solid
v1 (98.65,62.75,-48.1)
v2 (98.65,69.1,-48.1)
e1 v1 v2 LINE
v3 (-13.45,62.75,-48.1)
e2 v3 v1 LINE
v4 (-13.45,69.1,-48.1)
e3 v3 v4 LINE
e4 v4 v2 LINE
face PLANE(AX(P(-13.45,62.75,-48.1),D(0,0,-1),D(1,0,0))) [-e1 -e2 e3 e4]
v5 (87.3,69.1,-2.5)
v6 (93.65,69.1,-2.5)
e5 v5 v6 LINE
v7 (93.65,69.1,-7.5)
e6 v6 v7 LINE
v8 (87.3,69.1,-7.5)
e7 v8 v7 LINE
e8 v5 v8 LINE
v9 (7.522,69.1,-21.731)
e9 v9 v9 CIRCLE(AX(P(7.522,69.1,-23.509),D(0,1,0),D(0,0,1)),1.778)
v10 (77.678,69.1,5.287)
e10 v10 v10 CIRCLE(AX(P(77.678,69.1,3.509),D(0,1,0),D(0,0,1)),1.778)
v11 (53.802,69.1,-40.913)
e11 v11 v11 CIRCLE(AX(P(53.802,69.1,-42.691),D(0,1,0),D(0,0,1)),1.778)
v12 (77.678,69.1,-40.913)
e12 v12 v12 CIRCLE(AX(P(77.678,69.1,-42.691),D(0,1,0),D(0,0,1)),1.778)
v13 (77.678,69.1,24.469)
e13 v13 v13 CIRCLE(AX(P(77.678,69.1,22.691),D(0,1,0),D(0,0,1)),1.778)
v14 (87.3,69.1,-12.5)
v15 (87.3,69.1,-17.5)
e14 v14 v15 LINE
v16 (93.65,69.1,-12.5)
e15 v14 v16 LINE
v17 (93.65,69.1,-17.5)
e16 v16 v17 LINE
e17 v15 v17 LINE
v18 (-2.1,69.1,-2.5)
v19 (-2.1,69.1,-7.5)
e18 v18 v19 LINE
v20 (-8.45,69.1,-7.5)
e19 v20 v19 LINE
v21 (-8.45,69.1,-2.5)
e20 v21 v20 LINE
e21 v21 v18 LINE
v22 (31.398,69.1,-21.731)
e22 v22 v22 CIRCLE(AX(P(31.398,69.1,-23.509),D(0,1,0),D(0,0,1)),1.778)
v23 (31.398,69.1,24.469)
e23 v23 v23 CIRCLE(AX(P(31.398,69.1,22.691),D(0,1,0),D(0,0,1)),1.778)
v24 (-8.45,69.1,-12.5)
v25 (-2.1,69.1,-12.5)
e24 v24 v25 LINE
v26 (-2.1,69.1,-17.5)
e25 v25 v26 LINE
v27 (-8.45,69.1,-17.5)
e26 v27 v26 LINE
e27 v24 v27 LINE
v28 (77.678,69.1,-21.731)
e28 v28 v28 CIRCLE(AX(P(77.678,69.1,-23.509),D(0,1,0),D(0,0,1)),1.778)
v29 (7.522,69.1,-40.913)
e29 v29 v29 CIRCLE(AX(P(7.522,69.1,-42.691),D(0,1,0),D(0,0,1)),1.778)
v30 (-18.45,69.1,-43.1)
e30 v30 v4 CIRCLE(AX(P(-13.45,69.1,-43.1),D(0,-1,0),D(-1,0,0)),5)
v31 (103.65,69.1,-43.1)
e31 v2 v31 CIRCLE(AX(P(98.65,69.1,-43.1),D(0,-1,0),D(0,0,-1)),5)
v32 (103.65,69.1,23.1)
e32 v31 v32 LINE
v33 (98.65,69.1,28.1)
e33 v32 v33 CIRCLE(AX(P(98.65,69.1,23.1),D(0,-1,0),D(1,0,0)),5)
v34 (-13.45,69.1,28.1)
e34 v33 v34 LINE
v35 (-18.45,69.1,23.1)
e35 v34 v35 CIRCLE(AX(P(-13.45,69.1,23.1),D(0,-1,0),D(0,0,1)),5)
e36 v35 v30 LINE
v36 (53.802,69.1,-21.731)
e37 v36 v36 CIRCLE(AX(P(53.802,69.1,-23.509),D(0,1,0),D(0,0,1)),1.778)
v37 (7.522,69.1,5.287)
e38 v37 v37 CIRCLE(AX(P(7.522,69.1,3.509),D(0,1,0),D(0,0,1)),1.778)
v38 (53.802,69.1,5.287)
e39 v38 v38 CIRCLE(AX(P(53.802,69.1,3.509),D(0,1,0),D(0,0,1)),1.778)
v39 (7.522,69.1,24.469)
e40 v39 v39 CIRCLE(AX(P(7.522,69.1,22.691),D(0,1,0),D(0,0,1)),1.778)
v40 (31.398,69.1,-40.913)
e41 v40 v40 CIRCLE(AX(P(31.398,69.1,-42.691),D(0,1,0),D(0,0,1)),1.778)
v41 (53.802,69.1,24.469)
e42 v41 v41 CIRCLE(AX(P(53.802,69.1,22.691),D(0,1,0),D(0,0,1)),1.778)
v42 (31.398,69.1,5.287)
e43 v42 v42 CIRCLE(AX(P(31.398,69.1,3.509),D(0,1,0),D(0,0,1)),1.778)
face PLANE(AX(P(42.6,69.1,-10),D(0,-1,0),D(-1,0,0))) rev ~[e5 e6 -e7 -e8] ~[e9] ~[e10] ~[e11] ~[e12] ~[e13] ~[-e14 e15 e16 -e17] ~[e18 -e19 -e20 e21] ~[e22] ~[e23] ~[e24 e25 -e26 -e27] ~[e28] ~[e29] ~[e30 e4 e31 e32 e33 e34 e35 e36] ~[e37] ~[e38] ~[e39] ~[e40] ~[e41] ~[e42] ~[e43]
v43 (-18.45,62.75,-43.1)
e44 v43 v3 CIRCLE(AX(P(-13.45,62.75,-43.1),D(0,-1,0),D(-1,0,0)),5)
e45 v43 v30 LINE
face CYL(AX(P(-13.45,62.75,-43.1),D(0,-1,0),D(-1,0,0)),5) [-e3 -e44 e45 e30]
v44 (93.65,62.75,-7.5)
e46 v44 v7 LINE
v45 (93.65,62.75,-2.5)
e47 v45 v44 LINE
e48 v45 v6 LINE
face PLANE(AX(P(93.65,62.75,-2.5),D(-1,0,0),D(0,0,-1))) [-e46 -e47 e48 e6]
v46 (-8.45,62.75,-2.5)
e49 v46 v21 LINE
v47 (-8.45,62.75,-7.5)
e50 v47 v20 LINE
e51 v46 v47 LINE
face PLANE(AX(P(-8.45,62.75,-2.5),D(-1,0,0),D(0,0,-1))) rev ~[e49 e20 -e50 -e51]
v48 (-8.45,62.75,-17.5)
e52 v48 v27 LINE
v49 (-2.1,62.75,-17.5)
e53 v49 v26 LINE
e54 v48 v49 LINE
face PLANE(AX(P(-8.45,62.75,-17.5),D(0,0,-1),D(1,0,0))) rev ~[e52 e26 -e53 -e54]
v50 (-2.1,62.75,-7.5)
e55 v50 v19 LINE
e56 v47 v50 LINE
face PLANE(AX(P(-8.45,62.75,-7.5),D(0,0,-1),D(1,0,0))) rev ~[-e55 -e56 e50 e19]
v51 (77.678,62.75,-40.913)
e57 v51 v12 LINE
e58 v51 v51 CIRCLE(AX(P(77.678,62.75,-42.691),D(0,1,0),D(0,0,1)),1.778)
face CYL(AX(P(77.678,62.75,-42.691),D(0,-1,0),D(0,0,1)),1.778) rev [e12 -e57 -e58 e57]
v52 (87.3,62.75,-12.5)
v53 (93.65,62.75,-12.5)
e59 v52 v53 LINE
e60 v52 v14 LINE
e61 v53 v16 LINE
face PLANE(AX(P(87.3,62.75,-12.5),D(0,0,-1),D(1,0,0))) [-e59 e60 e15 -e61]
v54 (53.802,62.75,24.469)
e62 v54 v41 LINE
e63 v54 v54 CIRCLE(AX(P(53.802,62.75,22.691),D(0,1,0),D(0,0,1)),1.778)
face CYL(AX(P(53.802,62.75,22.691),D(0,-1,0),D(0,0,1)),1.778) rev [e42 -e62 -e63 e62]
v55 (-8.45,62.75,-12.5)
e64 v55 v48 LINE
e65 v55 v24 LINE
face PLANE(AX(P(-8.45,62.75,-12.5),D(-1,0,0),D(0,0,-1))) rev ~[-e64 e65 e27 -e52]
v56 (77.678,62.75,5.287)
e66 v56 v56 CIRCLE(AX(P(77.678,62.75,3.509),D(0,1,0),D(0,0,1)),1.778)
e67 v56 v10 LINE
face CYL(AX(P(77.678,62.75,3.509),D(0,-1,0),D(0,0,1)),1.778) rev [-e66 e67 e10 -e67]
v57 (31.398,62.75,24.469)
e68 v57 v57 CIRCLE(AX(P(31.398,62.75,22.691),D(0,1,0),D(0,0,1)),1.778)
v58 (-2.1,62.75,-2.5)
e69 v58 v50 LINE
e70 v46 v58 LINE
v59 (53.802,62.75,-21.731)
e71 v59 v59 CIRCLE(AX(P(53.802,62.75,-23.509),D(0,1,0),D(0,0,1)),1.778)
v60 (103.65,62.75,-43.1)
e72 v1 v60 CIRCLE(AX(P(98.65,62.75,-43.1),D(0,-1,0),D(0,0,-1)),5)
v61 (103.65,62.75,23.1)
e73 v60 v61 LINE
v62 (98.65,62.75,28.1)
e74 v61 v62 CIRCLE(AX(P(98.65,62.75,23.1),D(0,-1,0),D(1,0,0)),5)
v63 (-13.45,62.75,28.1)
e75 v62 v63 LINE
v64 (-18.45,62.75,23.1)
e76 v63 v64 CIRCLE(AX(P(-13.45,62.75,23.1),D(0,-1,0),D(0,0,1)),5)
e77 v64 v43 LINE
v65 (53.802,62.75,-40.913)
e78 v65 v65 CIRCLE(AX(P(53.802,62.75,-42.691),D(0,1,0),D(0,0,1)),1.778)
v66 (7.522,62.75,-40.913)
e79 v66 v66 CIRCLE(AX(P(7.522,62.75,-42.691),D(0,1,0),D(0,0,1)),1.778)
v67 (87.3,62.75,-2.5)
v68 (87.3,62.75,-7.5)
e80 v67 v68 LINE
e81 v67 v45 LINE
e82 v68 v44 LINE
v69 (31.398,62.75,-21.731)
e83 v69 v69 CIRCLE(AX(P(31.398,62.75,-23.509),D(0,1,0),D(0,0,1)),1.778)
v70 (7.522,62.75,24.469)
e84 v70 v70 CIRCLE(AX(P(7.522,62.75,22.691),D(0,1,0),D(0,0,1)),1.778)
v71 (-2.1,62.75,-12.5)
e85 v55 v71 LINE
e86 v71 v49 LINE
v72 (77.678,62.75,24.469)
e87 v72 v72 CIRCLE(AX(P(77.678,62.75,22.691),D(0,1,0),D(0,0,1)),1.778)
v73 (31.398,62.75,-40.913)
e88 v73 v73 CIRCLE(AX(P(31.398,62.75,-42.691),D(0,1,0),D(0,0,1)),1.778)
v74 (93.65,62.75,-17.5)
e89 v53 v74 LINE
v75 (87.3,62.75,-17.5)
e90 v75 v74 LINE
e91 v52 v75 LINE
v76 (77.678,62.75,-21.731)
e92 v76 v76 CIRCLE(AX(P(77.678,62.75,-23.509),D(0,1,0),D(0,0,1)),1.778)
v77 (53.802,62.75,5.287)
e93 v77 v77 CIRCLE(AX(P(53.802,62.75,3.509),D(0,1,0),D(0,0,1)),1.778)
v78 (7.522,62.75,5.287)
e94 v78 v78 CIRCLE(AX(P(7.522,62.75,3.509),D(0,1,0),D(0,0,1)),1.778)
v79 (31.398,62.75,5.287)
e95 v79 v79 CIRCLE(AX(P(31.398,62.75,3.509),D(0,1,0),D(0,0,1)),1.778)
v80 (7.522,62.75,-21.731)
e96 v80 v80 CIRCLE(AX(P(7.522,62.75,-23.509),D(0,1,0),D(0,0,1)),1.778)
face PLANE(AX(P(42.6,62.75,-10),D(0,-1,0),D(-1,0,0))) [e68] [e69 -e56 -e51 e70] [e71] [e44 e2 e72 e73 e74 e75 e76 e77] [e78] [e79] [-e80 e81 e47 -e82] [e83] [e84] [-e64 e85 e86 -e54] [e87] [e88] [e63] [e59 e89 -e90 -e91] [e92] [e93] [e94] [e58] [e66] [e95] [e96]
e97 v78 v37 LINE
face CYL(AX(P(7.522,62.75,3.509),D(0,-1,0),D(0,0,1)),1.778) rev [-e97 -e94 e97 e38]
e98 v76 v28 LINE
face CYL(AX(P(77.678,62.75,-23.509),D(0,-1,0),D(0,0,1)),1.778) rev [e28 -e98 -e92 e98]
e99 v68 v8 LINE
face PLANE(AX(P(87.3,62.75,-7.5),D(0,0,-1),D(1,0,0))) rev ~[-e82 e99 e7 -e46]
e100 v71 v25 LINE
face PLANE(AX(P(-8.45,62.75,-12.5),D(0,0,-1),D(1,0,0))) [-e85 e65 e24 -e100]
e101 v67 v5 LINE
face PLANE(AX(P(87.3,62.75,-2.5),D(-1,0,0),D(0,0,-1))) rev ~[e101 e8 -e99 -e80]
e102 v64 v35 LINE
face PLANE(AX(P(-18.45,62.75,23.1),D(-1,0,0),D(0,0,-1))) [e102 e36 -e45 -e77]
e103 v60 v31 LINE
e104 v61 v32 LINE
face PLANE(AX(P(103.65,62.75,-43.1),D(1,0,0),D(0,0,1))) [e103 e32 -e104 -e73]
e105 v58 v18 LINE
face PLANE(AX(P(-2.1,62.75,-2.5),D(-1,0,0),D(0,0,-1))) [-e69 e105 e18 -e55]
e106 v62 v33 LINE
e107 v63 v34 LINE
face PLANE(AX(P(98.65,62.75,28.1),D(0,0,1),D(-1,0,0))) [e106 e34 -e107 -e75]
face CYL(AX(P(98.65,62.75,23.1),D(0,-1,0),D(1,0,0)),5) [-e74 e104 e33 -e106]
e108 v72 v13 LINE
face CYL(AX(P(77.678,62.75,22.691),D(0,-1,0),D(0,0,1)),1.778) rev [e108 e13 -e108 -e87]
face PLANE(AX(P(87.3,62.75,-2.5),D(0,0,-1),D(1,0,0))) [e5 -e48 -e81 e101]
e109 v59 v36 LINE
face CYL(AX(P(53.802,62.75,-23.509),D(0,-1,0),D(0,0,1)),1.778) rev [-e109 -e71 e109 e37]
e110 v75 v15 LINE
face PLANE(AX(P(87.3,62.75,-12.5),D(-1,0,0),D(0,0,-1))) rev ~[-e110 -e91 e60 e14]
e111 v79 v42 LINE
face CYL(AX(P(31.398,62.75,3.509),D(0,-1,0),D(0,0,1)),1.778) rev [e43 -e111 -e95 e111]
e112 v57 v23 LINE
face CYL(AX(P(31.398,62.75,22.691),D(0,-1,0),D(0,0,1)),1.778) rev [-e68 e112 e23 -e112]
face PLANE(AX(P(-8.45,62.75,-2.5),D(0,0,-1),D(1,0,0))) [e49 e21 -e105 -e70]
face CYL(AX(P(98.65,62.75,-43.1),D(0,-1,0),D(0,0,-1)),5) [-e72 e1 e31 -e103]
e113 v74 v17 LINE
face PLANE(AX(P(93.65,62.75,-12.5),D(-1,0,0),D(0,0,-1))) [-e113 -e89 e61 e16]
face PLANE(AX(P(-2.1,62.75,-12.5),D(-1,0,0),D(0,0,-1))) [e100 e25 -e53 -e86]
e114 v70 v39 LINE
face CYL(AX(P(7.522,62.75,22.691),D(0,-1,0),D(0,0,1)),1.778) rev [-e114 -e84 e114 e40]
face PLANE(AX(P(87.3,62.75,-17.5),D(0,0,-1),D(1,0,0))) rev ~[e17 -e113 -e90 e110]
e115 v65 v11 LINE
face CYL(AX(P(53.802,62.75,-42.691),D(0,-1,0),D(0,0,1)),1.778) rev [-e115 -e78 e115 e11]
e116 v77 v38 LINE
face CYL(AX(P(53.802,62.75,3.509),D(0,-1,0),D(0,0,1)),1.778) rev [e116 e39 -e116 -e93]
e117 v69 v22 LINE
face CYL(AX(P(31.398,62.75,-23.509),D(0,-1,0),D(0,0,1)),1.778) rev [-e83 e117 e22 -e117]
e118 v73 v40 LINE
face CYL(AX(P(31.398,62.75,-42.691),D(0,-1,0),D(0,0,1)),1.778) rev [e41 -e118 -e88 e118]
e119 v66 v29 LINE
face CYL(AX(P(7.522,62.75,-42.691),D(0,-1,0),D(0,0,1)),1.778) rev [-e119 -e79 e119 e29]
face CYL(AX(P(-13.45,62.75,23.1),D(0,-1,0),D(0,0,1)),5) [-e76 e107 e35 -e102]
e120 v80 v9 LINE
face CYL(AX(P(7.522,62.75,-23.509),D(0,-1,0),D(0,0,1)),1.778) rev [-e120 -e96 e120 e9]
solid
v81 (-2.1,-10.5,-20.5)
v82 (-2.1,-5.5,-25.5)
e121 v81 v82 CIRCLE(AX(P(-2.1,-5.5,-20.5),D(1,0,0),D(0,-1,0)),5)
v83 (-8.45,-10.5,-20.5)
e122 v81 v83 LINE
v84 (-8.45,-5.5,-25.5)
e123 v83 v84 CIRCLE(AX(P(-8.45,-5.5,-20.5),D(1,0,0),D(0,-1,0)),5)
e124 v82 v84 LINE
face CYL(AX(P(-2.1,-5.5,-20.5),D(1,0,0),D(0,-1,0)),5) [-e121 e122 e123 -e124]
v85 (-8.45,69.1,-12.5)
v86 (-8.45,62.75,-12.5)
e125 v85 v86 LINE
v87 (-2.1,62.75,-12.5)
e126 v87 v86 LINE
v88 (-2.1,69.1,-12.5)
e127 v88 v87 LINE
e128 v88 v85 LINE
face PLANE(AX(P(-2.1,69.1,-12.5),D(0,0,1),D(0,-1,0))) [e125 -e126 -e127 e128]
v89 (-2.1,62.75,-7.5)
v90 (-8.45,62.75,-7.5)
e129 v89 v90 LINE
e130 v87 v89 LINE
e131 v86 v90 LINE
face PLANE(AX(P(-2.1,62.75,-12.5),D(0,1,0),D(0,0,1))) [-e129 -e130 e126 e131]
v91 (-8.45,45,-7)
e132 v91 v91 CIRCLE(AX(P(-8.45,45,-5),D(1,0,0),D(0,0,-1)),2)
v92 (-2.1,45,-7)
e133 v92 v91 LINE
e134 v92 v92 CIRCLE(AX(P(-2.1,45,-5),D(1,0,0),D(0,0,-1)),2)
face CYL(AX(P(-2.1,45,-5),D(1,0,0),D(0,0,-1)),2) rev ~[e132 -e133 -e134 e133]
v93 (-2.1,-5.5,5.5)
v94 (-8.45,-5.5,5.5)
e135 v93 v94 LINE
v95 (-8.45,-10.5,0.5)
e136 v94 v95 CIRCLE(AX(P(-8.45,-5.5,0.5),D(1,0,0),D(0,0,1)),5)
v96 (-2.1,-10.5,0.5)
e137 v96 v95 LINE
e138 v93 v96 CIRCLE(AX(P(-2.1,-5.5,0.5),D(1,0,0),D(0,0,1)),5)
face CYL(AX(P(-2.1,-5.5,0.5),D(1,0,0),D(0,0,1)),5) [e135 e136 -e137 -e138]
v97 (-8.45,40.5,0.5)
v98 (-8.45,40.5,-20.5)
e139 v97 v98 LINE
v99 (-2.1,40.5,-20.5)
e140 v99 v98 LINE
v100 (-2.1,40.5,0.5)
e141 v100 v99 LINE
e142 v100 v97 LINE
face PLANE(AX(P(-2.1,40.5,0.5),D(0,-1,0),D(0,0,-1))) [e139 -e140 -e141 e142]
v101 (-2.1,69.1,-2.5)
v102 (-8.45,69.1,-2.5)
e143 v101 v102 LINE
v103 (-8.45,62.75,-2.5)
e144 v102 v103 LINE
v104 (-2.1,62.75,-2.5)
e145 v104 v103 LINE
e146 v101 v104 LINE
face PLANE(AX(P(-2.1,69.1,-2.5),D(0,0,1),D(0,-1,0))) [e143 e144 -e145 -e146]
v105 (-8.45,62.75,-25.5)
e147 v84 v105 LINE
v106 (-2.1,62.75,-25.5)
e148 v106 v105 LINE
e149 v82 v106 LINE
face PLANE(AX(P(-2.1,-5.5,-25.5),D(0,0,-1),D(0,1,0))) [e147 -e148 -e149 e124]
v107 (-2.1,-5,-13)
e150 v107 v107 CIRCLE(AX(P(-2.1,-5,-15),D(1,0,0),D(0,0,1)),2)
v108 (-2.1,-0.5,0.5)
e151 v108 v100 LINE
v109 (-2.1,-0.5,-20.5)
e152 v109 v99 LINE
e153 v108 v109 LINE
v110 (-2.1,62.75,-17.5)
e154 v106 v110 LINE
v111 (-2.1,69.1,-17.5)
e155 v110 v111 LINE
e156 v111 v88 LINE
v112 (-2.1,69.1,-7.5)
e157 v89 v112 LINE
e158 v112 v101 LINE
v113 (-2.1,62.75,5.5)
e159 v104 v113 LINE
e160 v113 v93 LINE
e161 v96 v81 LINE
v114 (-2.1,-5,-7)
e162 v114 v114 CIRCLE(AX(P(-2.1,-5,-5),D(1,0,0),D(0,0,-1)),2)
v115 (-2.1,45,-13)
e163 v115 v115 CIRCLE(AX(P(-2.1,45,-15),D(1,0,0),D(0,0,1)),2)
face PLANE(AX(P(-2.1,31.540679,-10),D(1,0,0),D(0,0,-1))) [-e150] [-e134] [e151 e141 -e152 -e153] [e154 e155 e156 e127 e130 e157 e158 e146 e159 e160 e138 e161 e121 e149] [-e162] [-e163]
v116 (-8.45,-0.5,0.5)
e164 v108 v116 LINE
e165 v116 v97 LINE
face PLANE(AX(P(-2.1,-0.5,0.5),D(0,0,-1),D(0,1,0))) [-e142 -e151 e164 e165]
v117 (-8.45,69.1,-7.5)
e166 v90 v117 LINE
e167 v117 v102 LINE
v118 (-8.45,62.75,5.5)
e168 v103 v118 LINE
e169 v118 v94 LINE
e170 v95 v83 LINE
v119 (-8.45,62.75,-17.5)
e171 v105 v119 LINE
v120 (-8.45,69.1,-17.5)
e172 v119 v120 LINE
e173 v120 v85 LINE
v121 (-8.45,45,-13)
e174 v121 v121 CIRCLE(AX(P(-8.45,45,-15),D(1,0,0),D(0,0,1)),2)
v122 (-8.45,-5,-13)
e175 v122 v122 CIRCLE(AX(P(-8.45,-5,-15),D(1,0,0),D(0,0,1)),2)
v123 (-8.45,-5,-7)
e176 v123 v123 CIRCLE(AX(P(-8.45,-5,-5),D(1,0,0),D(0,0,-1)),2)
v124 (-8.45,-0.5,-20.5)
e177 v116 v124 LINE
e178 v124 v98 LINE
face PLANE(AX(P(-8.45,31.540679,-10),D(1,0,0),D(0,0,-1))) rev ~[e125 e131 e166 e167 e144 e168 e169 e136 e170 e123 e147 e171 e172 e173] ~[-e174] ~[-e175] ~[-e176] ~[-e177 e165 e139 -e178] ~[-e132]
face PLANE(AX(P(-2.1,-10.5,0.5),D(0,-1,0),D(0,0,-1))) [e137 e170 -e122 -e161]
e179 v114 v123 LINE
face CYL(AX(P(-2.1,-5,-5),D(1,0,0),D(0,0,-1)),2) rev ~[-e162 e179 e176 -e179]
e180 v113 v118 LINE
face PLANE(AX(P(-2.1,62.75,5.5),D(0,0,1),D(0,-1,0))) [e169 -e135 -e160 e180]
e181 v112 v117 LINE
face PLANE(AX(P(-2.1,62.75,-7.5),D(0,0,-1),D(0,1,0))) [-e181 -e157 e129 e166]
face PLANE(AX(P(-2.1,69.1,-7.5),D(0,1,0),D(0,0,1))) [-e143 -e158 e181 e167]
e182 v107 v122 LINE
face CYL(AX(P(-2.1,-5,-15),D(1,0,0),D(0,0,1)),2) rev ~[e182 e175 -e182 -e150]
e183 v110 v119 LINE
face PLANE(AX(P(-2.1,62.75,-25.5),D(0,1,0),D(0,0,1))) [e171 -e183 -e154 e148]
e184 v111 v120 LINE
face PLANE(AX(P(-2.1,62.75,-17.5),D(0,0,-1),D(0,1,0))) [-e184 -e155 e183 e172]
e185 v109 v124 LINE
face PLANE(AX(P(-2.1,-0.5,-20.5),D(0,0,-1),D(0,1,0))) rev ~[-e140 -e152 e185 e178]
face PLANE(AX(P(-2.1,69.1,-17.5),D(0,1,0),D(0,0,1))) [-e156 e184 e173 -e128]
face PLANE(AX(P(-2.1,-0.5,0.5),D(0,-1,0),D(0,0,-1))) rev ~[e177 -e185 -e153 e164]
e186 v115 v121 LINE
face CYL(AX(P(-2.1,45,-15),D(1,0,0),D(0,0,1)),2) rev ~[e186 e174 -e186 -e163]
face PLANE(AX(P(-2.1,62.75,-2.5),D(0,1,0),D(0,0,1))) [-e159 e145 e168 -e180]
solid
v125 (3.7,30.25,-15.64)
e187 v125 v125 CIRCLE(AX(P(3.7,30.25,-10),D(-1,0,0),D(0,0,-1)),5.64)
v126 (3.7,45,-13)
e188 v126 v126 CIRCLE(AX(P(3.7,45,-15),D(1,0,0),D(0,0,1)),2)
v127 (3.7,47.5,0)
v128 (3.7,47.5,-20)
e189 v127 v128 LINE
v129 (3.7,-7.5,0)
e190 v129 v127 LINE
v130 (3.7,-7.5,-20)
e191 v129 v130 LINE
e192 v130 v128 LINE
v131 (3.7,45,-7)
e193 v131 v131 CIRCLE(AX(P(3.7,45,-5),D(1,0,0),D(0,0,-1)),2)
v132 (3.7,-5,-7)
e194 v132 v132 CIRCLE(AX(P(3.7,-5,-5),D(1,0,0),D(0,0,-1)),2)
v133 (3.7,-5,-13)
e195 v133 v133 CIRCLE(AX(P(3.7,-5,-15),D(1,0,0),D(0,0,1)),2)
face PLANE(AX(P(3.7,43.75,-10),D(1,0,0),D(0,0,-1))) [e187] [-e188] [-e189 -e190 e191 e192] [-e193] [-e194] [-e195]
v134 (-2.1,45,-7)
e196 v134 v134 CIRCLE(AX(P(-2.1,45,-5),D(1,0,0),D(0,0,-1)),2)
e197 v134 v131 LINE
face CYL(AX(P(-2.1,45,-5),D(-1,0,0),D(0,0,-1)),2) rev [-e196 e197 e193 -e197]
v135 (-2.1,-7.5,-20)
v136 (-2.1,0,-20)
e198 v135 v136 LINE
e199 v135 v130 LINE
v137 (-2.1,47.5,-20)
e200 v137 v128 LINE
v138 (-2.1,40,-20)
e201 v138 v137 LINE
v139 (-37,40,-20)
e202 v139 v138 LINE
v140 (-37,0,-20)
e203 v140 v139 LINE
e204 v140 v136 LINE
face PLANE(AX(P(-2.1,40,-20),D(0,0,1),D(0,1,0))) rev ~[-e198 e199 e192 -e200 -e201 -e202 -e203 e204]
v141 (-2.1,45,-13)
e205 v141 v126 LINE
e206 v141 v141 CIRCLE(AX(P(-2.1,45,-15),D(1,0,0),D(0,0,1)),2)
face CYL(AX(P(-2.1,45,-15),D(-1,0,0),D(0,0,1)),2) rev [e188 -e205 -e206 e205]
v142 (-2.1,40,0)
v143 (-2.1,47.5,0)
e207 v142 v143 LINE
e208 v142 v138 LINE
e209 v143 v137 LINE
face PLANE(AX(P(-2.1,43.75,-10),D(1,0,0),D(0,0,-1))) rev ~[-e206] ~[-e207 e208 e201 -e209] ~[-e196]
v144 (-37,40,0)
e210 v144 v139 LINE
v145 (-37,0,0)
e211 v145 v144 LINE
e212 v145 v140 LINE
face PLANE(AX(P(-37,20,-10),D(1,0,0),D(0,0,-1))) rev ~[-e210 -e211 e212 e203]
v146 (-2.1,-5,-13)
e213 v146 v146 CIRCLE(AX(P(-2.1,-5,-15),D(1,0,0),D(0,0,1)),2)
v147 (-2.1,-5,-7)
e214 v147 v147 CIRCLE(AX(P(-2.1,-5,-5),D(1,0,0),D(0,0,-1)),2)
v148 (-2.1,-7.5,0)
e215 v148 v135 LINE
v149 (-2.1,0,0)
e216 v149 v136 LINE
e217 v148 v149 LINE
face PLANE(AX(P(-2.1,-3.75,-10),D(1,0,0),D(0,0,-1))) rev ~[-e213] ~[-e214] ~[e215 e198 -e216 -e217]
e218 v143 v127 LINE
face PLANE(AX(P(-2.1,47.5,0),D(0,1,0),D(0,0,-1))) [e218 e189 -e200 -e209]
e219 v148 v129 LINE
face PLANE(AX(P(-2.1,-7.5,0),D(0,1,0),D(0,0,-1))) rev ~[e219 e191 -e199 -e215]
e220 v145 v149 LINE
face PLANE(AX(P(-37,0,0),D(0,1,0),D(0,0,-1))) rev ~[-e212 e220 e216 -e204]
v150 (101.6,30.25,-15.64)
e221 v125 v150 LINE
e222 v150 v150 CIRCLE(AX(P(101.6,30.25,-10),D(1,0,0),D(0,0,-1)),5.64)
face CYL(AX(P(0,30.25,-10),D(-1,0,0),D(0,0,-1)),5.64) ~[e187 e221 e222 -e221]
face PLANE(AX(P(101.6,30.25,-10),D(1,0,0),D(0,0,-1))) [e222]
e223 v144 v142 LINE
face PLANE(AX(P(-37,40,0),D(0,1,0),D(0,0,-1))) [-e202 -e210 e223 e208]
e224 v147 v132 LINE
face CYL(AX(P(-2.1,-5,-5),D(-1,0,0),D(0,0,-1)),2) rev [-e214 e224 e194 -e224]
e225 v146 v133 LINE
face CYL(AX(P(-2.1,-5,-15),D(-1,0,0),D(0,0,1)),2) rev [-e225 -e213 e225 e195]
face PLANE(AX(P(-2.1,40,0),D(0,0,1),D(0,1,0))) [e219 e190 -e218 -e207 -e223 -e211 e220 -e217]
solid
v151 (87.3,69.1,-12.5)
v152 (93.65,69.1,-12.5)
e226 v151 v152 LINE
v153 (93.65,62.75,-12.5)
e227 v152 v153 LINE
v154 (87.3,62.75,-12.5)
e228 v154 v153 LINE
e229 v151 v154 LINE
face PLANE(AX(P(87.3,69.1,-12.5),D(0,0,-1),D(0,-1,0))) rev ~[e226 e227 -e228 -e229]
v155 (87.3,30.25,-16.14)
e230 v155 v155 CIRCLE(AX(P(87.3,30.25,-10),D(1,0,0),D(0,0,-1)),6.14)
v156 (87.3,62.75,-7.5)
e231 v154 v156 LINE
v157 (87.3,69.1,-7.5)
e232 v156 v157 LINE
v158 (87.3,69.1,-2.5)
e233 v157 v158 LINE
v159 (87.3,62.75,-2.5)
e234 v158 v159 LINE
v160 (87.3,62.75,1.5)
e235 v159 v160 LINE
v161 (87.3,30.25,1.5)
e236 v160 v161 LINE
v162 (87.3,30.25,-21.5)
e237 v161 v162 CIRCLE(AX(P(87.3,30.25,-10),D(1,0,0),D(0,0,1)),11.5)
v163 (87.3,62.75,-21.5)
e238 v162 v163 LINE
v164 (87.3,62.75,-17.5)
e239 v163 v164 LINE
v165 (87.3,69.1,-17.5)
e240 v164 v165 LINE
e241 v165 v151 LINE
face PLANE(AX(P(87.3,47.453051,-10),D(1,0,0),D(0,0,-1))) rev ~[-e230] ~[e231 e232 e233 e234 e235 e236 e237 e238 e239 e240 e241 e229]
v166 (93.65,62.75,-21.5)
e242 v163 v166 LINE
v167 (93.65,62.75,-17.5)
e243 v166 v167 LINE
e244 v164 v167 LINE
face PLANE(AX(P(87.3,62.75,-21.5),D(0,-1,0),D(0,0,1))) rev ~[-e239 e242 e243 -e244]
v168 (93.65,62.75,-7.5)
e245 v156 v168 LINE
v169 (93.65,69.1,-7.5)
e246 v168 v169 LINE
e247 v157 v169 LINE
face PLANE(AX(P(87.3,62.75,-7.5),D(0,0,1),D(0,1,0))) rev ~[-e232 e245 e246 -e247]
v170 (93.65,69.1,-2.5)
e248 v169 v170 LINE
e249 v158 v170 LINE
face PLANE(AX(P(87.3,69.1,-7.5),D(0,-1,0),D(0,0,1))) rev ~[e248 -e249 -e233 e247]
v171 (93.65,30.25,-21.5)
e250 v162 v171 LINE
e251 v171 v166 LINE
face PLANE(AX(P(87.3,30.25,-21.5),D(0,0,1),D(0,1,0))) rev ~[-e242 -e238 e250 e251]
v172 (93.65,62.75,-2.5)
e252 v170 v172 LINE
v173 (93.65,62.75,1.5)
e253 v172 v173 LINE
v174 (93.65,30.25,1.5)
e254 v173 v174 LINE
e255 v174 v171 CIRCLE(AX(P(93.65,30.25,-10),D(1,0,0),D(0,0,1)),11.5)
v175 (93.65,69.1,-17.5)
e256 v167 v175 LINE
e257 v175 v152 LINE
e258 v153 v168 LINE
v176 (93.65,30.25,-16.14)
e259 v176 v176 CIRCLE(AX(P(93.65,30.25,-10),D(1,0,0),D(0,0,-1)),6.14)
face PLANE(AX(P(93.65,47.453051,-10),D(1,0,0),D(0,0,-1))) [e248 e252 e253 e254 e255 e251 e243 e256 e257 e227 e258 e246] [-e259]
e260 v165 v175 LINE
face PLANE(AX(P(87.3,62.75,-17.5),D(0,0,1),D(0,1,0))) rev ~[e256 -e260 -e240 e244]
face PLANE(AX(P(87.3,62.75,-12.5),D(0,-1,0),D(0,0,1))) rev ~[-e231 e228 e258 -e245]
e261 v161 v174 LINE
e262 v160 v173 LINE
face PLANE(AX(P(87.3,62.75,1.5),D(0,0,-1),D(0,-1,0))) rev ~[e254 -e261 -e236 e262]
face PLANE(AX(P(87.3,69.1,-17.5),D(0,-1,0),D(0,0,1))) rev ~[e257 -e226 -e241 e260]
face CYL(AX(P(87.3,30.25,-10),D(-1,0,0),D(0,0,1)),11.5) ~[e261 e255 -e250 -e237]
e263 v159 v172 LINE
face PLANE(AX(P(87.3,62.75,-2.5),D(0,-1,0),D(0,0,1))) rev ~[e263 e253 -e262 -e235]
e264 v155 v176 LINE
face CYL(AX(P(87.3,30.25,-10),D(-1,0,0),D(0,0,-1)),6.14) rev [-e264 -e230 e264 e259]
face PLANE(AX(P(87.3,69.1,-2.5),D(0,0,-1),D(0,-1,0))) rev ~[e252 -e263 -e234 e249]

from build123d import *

# Parameters (mm, degrees)
BOSS_EXTRUDE2_DEPTH      = 3.7
BOSS_EXTRUDE2_DEPTH_BACK = 37
SKETCH1_W                = 20
SKETCH1_H                = 40
SKETCH1_3_R              = 5.64
BOSS_EXTRUDE3_DEPTH      = 101.6
SKETCH2_R                = 6.14
BOSS_EXTRUDE4_DEPTH      = 6.35
SKETCH3_R                = 2
SKETCH3_W                = 21
SKETCH3_H                = 41
BOSS_EXTRUDE5_DEPTH      = 6.35
BOSS_EXTRUDE8_DEPTH      = 3.7
BOSS_EXTRUDE8_DEPTH_BACK = 2.1
SKETCH1_4_W              = 20
SKETCH1_4_H              = 7.5
SKETCH1_4_R              = 2
SKETCH7_R                = 1.778
SKETCH7_W                = 6.35
SKETCH7_H                = 5
BOSS_EXTRUDE11_DEPTH     = 6.35


with BuildPart() as part:
    # Sketch1 → Boss-Extrude2 (new, two sides: drawn at the far end of the back side and taken through both)
    with BuildSketch(Plane(origin=(0, 0, 0), x_dir=(0, 0, -1), z_dir=(1, 0, 0)).offset(-BOSS_EXTRUDE2_DEPTH_BACK)):
        with Locations((10, 20)):
            Rectangle(SKETCH1_W, SKETCH1_H)
    extrude(amount=BOSS_EXTRUDE2_DEPTH + BOSS_EXTRUDE2_DEPTH_BACK)

    # Sketch1<3> → Boss-Extrude3 (add)
    with BuildSketch(Plane(origin=(0, 0, 0), x_dir=(0, 0, -1), z_dir=(1, 0, 0))):
        with Locations((10, 30.25)):
            Circle(SKETCH1_3_R)
    extrude(amount=BOSS_EXTRUDE3_DEPTH)

    # Sketch1<4> → Boss-Extrude8 (add, two sides: drawn at the far end of the back side and taken through both)
    # profile 1 of 2: a face of its own
    with BuildSketch(Plane(origin=(0, 0, 0), x_dir=(0, 0, -1), z_dir=(1, 0, 0)).offset(-BOSS_EXTRUDE8_DEPTH_BACK)):
        with Locations((10, 43.75)):
            Rectangle(SKETCH1_4_W, SKETCH1_4_H)
        with Locations((15, 45)):
            Circle(SKETCH1_4_R, mode=Mode.SUBTRACT)
        with Locations((5, 45)):
            Circle(SKETCH1_4_R, mode=Mode.SUBTRACT)
    # profile 2 of 2: a face of its own
    with BuildSketch(Plane(origin=(0, 0, 0), x_dir=(0, 0, -1), z_dir=(1, 0, 0)).offset(-BOSS_EXTRUDE8_DEPTH_BACK)):
        with Locations((10, -3.75)):
            Rectangle(SKETCH1_4_W, SKETCH1_4_H)
        with Locations((15, -5)):
            Circle(SKETCH1_4_R, mode=Mode.SUBTRACT)
        with Locations((5, -5)):
            Circle(SKETCH1_4_R, mode=Mode.SUBTRACT)
    extrude(amount=BOSS_EXTRUDE8_DEPTH + BOSS_EXTRUDE8_DEPTH_BACK)


with BuildPart() as body_2:
    # Sketch2 → Boss-Extrude4 (new body)
    with BuildSketch(Plane(origin=(87.3, 0, 0), x_dir=(0, 0, -1), z_dir=(1, 0, 0))):
        with BuildLine():
            ThreePointArc((-1.5, 30.25), (10, 18.75), (21.5, 30.25))
            Line((21.5, 30.25), (21.5, 40))
            Line((21.5, 40), (21.5, 62.75))
            Line((21.5, 62.75), (17.5, 62.75))
            Line((17.5, 62.75), (17.5, 69.1))
            Line((17.5, 69.1), (12.5, 69.1))
            Line((12.5, 69.1), (12.5, 62.75))
            Line((12.5, 62.75), (7.5, 62.75))
            Line((7.5, 62.75), (7.5, 69.1))
            Line((7.5, 69.1), (2.5, 69.1))
            Line((2.5, 69.1), (2.5, 62.75))
            Line((2.5, 62.75), (-1.5, 62.75))
            Line((-1.5, 62.75), (-1.5, 40))
            Line((-1.5, 40), (-1.5, 30.25))
        make_face()
        with Locations((10, 30.25)):
            Circle(SKETCH2_R, mode=Mode.SUBTRACT)
    extrude(amount=BOSS_EXTRUDE4_DEPTH)


with BuildPart() as body_3:
    # Sketch3 → Boss-Extrude5 (new body)
    with BuildSketch(Plane(origin=(-2.1, 0, 0), x_dir=(0, 0, -1), z_dir=(1, 0, 0))):
        with BuildLine():
            Line((-5.5, 62.75), (-5.5, -5.5))
            ThreePointArc((-5.5, -5.5), (-4.035533906, -9.035533906), (-0.5, -10.5))
            Line((-0.5, -10.5), (20.5, -10.5))
            ThreePointArc((20.5, -10.5), (24.035533906, -9.035533906), (25.5, -5.5))
            Line((25.5, -5.5), (25.5, 62.75))
            Line((25.5, 62.75), (17.5, 62.75))
            Line((17.5, 62.75), (17.5, 69.1))
            Line((17.5, 69.1), (12.5, 69.1))
            Line((12.5, 69.1), (12.5, 62.75))
            Line((12.5, 62.75), (7.5, 62.75))
            Line((7.5, 62.75), (7.5, 69.1))
            Line((7.5, 69.1), (2.5, 69.1))
            Line((2.5, 69.1), (2.5, 62.75))
            Line((2.5, 62.75), (-5.5, 62.75))
        make_face()
        with Locations((5, -5)):
            Circle(SKETCH3_R, mode=Mode.SUBTRACT)
        with Locations((5, 45)):
            Circle(SKETCH3_R, mode=Mode.SUBTRACT)
        with Locations((15, 45)):
            Circle(SKETCH3_R, mode=Mode.SUBTRACT)
        with Locations((15, -5)):
            Circle(SKETCH3_R, mode=Mode.SUBTRACT)
        with Locations((10, 20)):
            Rectangle(SKETCH3_W, SKETCH3_H, mode=Mode.SUBTRACT)
    extrude(amount=-BOSS_EXTRUDE5_DEPTH)


with BuildPart() as body_4:
    # Sketch7 → Boss-Extrude11 (new body)
    with BuildSketch(Plane(origin=(0, 62.75, 0), x_dir=(1, 0, 0), z_dir=(0, 1, 0))):
        with BuildLine():
            Line((98.65, 48.1), (-13.45, 48.1))
            ThreePointArc((-13.45, 48.1), (-16.985533906, 46.635533906), (-18.45, 43.1))
            Line((-18.45, 43.1), (-18.45, -23.1))
            ThreePointArc((-18.45, -23.1), (-16.985533906, -26.635533906), (-13.45, -28.1))
            Line((-13.45, -28.1), (98.65, -28.1))
            ThreePointArc((98.65, -28.1), (102.185533906, -26.635533906), (103.65, -23.1))
            Line((103.65, -23.1), (103.65, 43.1))
            ThreePointArc((103.65, 43.1), (102.185533906, 46.635533906), (98.65, 48.1))
        make_face()
        with Locations((7.522, -22.691)):
            Circle(SKETCH7_R, mode=Mode.SUBTRACT)
        with Locations((31.398, -22.691)):
            Circle(SKETCH7_R, mode=Mode.SUBTRACT)
        with Locations((7.522, -3.509)):
            Circle(SKETCH7_R, mode=Mode.SUBTRACT)
        with Locations((-5.275, 15)):
            Rectangle(SKETCH7_W, SKETCH7_H, mode=Mode.SUBTRACT)
        with Locations((-5.275, 5)):
            Rectangle(SKETCH7_W, SKETCH7_H, mode=Mode.SUBTRACT)
        with Locations((31.398, -3.509)):
            Circle(SKETCH7_R, mode=Mode.SUBTRACT)
        with Locations((53.802, -22.691)):
            Circle(SKETCH7_R, mode=Mode.SUBTRACT)
        with Locations((77.678, -22.691)):
            Circle(SKETCH7_R, mode=Mode.SUBTRACT)
        with Locations((53.802, -3.509)):
            Circle(SKETCH7_R, mode=Mode.SUBTRACT)
        with Locations((77.678, -3.509)):
            Circle(SKETCH7_R, mode=Mode.SUBTRACT)
        with Locations((90.475, 5)):
            Rectangle(SKETCH7_W, SKETCH7_H, mode=Mode.SUBTRACT)
        with Locations((7.522, 23.509)):
            Circle(SKETCH7_R, mode=Mode.SUBTRACT)
        with Locations((31.398, 23.509)):
            Circle(SKETCH7_R, mode=Mode.SUBTRACT)
        with Locations((7.522, 42.691)):
            Circle(SKETCH7_R, mode=Mode.SUBTRACT)
        with Locations((31.398, 42.691)):
            Circle(SKETCH7_R, mode=Mode.SUBTRACT)
        with Locations((53.802, 23.509)):
            Circle(SKETCH7_R, mode=Mode.SUBTRACT)
        with Locations((90.475, 15)):
            Rectangle(SKETCH7_W, SKETCH7_H, mode=Mode.SUBTRACT)
        with Locations((77.678, 23.509)):
            Circle(SKETCH7_R, mode=Mode.SUBTRACT)
        with Locations((53.802, 42.691)):
            Circle(SKETCH7_R, mode=Mode.SUBTRACT)
        with Locations((77.678, 42.691)):
            Circle(SKETCH7_R, mode=Mode.SUBTRACT)
    extrude(amount=BOSS_EXTRUDE11_DEPTH)


solid = Compound([part.part, body_2.part, body_3.part, body_4.part])
